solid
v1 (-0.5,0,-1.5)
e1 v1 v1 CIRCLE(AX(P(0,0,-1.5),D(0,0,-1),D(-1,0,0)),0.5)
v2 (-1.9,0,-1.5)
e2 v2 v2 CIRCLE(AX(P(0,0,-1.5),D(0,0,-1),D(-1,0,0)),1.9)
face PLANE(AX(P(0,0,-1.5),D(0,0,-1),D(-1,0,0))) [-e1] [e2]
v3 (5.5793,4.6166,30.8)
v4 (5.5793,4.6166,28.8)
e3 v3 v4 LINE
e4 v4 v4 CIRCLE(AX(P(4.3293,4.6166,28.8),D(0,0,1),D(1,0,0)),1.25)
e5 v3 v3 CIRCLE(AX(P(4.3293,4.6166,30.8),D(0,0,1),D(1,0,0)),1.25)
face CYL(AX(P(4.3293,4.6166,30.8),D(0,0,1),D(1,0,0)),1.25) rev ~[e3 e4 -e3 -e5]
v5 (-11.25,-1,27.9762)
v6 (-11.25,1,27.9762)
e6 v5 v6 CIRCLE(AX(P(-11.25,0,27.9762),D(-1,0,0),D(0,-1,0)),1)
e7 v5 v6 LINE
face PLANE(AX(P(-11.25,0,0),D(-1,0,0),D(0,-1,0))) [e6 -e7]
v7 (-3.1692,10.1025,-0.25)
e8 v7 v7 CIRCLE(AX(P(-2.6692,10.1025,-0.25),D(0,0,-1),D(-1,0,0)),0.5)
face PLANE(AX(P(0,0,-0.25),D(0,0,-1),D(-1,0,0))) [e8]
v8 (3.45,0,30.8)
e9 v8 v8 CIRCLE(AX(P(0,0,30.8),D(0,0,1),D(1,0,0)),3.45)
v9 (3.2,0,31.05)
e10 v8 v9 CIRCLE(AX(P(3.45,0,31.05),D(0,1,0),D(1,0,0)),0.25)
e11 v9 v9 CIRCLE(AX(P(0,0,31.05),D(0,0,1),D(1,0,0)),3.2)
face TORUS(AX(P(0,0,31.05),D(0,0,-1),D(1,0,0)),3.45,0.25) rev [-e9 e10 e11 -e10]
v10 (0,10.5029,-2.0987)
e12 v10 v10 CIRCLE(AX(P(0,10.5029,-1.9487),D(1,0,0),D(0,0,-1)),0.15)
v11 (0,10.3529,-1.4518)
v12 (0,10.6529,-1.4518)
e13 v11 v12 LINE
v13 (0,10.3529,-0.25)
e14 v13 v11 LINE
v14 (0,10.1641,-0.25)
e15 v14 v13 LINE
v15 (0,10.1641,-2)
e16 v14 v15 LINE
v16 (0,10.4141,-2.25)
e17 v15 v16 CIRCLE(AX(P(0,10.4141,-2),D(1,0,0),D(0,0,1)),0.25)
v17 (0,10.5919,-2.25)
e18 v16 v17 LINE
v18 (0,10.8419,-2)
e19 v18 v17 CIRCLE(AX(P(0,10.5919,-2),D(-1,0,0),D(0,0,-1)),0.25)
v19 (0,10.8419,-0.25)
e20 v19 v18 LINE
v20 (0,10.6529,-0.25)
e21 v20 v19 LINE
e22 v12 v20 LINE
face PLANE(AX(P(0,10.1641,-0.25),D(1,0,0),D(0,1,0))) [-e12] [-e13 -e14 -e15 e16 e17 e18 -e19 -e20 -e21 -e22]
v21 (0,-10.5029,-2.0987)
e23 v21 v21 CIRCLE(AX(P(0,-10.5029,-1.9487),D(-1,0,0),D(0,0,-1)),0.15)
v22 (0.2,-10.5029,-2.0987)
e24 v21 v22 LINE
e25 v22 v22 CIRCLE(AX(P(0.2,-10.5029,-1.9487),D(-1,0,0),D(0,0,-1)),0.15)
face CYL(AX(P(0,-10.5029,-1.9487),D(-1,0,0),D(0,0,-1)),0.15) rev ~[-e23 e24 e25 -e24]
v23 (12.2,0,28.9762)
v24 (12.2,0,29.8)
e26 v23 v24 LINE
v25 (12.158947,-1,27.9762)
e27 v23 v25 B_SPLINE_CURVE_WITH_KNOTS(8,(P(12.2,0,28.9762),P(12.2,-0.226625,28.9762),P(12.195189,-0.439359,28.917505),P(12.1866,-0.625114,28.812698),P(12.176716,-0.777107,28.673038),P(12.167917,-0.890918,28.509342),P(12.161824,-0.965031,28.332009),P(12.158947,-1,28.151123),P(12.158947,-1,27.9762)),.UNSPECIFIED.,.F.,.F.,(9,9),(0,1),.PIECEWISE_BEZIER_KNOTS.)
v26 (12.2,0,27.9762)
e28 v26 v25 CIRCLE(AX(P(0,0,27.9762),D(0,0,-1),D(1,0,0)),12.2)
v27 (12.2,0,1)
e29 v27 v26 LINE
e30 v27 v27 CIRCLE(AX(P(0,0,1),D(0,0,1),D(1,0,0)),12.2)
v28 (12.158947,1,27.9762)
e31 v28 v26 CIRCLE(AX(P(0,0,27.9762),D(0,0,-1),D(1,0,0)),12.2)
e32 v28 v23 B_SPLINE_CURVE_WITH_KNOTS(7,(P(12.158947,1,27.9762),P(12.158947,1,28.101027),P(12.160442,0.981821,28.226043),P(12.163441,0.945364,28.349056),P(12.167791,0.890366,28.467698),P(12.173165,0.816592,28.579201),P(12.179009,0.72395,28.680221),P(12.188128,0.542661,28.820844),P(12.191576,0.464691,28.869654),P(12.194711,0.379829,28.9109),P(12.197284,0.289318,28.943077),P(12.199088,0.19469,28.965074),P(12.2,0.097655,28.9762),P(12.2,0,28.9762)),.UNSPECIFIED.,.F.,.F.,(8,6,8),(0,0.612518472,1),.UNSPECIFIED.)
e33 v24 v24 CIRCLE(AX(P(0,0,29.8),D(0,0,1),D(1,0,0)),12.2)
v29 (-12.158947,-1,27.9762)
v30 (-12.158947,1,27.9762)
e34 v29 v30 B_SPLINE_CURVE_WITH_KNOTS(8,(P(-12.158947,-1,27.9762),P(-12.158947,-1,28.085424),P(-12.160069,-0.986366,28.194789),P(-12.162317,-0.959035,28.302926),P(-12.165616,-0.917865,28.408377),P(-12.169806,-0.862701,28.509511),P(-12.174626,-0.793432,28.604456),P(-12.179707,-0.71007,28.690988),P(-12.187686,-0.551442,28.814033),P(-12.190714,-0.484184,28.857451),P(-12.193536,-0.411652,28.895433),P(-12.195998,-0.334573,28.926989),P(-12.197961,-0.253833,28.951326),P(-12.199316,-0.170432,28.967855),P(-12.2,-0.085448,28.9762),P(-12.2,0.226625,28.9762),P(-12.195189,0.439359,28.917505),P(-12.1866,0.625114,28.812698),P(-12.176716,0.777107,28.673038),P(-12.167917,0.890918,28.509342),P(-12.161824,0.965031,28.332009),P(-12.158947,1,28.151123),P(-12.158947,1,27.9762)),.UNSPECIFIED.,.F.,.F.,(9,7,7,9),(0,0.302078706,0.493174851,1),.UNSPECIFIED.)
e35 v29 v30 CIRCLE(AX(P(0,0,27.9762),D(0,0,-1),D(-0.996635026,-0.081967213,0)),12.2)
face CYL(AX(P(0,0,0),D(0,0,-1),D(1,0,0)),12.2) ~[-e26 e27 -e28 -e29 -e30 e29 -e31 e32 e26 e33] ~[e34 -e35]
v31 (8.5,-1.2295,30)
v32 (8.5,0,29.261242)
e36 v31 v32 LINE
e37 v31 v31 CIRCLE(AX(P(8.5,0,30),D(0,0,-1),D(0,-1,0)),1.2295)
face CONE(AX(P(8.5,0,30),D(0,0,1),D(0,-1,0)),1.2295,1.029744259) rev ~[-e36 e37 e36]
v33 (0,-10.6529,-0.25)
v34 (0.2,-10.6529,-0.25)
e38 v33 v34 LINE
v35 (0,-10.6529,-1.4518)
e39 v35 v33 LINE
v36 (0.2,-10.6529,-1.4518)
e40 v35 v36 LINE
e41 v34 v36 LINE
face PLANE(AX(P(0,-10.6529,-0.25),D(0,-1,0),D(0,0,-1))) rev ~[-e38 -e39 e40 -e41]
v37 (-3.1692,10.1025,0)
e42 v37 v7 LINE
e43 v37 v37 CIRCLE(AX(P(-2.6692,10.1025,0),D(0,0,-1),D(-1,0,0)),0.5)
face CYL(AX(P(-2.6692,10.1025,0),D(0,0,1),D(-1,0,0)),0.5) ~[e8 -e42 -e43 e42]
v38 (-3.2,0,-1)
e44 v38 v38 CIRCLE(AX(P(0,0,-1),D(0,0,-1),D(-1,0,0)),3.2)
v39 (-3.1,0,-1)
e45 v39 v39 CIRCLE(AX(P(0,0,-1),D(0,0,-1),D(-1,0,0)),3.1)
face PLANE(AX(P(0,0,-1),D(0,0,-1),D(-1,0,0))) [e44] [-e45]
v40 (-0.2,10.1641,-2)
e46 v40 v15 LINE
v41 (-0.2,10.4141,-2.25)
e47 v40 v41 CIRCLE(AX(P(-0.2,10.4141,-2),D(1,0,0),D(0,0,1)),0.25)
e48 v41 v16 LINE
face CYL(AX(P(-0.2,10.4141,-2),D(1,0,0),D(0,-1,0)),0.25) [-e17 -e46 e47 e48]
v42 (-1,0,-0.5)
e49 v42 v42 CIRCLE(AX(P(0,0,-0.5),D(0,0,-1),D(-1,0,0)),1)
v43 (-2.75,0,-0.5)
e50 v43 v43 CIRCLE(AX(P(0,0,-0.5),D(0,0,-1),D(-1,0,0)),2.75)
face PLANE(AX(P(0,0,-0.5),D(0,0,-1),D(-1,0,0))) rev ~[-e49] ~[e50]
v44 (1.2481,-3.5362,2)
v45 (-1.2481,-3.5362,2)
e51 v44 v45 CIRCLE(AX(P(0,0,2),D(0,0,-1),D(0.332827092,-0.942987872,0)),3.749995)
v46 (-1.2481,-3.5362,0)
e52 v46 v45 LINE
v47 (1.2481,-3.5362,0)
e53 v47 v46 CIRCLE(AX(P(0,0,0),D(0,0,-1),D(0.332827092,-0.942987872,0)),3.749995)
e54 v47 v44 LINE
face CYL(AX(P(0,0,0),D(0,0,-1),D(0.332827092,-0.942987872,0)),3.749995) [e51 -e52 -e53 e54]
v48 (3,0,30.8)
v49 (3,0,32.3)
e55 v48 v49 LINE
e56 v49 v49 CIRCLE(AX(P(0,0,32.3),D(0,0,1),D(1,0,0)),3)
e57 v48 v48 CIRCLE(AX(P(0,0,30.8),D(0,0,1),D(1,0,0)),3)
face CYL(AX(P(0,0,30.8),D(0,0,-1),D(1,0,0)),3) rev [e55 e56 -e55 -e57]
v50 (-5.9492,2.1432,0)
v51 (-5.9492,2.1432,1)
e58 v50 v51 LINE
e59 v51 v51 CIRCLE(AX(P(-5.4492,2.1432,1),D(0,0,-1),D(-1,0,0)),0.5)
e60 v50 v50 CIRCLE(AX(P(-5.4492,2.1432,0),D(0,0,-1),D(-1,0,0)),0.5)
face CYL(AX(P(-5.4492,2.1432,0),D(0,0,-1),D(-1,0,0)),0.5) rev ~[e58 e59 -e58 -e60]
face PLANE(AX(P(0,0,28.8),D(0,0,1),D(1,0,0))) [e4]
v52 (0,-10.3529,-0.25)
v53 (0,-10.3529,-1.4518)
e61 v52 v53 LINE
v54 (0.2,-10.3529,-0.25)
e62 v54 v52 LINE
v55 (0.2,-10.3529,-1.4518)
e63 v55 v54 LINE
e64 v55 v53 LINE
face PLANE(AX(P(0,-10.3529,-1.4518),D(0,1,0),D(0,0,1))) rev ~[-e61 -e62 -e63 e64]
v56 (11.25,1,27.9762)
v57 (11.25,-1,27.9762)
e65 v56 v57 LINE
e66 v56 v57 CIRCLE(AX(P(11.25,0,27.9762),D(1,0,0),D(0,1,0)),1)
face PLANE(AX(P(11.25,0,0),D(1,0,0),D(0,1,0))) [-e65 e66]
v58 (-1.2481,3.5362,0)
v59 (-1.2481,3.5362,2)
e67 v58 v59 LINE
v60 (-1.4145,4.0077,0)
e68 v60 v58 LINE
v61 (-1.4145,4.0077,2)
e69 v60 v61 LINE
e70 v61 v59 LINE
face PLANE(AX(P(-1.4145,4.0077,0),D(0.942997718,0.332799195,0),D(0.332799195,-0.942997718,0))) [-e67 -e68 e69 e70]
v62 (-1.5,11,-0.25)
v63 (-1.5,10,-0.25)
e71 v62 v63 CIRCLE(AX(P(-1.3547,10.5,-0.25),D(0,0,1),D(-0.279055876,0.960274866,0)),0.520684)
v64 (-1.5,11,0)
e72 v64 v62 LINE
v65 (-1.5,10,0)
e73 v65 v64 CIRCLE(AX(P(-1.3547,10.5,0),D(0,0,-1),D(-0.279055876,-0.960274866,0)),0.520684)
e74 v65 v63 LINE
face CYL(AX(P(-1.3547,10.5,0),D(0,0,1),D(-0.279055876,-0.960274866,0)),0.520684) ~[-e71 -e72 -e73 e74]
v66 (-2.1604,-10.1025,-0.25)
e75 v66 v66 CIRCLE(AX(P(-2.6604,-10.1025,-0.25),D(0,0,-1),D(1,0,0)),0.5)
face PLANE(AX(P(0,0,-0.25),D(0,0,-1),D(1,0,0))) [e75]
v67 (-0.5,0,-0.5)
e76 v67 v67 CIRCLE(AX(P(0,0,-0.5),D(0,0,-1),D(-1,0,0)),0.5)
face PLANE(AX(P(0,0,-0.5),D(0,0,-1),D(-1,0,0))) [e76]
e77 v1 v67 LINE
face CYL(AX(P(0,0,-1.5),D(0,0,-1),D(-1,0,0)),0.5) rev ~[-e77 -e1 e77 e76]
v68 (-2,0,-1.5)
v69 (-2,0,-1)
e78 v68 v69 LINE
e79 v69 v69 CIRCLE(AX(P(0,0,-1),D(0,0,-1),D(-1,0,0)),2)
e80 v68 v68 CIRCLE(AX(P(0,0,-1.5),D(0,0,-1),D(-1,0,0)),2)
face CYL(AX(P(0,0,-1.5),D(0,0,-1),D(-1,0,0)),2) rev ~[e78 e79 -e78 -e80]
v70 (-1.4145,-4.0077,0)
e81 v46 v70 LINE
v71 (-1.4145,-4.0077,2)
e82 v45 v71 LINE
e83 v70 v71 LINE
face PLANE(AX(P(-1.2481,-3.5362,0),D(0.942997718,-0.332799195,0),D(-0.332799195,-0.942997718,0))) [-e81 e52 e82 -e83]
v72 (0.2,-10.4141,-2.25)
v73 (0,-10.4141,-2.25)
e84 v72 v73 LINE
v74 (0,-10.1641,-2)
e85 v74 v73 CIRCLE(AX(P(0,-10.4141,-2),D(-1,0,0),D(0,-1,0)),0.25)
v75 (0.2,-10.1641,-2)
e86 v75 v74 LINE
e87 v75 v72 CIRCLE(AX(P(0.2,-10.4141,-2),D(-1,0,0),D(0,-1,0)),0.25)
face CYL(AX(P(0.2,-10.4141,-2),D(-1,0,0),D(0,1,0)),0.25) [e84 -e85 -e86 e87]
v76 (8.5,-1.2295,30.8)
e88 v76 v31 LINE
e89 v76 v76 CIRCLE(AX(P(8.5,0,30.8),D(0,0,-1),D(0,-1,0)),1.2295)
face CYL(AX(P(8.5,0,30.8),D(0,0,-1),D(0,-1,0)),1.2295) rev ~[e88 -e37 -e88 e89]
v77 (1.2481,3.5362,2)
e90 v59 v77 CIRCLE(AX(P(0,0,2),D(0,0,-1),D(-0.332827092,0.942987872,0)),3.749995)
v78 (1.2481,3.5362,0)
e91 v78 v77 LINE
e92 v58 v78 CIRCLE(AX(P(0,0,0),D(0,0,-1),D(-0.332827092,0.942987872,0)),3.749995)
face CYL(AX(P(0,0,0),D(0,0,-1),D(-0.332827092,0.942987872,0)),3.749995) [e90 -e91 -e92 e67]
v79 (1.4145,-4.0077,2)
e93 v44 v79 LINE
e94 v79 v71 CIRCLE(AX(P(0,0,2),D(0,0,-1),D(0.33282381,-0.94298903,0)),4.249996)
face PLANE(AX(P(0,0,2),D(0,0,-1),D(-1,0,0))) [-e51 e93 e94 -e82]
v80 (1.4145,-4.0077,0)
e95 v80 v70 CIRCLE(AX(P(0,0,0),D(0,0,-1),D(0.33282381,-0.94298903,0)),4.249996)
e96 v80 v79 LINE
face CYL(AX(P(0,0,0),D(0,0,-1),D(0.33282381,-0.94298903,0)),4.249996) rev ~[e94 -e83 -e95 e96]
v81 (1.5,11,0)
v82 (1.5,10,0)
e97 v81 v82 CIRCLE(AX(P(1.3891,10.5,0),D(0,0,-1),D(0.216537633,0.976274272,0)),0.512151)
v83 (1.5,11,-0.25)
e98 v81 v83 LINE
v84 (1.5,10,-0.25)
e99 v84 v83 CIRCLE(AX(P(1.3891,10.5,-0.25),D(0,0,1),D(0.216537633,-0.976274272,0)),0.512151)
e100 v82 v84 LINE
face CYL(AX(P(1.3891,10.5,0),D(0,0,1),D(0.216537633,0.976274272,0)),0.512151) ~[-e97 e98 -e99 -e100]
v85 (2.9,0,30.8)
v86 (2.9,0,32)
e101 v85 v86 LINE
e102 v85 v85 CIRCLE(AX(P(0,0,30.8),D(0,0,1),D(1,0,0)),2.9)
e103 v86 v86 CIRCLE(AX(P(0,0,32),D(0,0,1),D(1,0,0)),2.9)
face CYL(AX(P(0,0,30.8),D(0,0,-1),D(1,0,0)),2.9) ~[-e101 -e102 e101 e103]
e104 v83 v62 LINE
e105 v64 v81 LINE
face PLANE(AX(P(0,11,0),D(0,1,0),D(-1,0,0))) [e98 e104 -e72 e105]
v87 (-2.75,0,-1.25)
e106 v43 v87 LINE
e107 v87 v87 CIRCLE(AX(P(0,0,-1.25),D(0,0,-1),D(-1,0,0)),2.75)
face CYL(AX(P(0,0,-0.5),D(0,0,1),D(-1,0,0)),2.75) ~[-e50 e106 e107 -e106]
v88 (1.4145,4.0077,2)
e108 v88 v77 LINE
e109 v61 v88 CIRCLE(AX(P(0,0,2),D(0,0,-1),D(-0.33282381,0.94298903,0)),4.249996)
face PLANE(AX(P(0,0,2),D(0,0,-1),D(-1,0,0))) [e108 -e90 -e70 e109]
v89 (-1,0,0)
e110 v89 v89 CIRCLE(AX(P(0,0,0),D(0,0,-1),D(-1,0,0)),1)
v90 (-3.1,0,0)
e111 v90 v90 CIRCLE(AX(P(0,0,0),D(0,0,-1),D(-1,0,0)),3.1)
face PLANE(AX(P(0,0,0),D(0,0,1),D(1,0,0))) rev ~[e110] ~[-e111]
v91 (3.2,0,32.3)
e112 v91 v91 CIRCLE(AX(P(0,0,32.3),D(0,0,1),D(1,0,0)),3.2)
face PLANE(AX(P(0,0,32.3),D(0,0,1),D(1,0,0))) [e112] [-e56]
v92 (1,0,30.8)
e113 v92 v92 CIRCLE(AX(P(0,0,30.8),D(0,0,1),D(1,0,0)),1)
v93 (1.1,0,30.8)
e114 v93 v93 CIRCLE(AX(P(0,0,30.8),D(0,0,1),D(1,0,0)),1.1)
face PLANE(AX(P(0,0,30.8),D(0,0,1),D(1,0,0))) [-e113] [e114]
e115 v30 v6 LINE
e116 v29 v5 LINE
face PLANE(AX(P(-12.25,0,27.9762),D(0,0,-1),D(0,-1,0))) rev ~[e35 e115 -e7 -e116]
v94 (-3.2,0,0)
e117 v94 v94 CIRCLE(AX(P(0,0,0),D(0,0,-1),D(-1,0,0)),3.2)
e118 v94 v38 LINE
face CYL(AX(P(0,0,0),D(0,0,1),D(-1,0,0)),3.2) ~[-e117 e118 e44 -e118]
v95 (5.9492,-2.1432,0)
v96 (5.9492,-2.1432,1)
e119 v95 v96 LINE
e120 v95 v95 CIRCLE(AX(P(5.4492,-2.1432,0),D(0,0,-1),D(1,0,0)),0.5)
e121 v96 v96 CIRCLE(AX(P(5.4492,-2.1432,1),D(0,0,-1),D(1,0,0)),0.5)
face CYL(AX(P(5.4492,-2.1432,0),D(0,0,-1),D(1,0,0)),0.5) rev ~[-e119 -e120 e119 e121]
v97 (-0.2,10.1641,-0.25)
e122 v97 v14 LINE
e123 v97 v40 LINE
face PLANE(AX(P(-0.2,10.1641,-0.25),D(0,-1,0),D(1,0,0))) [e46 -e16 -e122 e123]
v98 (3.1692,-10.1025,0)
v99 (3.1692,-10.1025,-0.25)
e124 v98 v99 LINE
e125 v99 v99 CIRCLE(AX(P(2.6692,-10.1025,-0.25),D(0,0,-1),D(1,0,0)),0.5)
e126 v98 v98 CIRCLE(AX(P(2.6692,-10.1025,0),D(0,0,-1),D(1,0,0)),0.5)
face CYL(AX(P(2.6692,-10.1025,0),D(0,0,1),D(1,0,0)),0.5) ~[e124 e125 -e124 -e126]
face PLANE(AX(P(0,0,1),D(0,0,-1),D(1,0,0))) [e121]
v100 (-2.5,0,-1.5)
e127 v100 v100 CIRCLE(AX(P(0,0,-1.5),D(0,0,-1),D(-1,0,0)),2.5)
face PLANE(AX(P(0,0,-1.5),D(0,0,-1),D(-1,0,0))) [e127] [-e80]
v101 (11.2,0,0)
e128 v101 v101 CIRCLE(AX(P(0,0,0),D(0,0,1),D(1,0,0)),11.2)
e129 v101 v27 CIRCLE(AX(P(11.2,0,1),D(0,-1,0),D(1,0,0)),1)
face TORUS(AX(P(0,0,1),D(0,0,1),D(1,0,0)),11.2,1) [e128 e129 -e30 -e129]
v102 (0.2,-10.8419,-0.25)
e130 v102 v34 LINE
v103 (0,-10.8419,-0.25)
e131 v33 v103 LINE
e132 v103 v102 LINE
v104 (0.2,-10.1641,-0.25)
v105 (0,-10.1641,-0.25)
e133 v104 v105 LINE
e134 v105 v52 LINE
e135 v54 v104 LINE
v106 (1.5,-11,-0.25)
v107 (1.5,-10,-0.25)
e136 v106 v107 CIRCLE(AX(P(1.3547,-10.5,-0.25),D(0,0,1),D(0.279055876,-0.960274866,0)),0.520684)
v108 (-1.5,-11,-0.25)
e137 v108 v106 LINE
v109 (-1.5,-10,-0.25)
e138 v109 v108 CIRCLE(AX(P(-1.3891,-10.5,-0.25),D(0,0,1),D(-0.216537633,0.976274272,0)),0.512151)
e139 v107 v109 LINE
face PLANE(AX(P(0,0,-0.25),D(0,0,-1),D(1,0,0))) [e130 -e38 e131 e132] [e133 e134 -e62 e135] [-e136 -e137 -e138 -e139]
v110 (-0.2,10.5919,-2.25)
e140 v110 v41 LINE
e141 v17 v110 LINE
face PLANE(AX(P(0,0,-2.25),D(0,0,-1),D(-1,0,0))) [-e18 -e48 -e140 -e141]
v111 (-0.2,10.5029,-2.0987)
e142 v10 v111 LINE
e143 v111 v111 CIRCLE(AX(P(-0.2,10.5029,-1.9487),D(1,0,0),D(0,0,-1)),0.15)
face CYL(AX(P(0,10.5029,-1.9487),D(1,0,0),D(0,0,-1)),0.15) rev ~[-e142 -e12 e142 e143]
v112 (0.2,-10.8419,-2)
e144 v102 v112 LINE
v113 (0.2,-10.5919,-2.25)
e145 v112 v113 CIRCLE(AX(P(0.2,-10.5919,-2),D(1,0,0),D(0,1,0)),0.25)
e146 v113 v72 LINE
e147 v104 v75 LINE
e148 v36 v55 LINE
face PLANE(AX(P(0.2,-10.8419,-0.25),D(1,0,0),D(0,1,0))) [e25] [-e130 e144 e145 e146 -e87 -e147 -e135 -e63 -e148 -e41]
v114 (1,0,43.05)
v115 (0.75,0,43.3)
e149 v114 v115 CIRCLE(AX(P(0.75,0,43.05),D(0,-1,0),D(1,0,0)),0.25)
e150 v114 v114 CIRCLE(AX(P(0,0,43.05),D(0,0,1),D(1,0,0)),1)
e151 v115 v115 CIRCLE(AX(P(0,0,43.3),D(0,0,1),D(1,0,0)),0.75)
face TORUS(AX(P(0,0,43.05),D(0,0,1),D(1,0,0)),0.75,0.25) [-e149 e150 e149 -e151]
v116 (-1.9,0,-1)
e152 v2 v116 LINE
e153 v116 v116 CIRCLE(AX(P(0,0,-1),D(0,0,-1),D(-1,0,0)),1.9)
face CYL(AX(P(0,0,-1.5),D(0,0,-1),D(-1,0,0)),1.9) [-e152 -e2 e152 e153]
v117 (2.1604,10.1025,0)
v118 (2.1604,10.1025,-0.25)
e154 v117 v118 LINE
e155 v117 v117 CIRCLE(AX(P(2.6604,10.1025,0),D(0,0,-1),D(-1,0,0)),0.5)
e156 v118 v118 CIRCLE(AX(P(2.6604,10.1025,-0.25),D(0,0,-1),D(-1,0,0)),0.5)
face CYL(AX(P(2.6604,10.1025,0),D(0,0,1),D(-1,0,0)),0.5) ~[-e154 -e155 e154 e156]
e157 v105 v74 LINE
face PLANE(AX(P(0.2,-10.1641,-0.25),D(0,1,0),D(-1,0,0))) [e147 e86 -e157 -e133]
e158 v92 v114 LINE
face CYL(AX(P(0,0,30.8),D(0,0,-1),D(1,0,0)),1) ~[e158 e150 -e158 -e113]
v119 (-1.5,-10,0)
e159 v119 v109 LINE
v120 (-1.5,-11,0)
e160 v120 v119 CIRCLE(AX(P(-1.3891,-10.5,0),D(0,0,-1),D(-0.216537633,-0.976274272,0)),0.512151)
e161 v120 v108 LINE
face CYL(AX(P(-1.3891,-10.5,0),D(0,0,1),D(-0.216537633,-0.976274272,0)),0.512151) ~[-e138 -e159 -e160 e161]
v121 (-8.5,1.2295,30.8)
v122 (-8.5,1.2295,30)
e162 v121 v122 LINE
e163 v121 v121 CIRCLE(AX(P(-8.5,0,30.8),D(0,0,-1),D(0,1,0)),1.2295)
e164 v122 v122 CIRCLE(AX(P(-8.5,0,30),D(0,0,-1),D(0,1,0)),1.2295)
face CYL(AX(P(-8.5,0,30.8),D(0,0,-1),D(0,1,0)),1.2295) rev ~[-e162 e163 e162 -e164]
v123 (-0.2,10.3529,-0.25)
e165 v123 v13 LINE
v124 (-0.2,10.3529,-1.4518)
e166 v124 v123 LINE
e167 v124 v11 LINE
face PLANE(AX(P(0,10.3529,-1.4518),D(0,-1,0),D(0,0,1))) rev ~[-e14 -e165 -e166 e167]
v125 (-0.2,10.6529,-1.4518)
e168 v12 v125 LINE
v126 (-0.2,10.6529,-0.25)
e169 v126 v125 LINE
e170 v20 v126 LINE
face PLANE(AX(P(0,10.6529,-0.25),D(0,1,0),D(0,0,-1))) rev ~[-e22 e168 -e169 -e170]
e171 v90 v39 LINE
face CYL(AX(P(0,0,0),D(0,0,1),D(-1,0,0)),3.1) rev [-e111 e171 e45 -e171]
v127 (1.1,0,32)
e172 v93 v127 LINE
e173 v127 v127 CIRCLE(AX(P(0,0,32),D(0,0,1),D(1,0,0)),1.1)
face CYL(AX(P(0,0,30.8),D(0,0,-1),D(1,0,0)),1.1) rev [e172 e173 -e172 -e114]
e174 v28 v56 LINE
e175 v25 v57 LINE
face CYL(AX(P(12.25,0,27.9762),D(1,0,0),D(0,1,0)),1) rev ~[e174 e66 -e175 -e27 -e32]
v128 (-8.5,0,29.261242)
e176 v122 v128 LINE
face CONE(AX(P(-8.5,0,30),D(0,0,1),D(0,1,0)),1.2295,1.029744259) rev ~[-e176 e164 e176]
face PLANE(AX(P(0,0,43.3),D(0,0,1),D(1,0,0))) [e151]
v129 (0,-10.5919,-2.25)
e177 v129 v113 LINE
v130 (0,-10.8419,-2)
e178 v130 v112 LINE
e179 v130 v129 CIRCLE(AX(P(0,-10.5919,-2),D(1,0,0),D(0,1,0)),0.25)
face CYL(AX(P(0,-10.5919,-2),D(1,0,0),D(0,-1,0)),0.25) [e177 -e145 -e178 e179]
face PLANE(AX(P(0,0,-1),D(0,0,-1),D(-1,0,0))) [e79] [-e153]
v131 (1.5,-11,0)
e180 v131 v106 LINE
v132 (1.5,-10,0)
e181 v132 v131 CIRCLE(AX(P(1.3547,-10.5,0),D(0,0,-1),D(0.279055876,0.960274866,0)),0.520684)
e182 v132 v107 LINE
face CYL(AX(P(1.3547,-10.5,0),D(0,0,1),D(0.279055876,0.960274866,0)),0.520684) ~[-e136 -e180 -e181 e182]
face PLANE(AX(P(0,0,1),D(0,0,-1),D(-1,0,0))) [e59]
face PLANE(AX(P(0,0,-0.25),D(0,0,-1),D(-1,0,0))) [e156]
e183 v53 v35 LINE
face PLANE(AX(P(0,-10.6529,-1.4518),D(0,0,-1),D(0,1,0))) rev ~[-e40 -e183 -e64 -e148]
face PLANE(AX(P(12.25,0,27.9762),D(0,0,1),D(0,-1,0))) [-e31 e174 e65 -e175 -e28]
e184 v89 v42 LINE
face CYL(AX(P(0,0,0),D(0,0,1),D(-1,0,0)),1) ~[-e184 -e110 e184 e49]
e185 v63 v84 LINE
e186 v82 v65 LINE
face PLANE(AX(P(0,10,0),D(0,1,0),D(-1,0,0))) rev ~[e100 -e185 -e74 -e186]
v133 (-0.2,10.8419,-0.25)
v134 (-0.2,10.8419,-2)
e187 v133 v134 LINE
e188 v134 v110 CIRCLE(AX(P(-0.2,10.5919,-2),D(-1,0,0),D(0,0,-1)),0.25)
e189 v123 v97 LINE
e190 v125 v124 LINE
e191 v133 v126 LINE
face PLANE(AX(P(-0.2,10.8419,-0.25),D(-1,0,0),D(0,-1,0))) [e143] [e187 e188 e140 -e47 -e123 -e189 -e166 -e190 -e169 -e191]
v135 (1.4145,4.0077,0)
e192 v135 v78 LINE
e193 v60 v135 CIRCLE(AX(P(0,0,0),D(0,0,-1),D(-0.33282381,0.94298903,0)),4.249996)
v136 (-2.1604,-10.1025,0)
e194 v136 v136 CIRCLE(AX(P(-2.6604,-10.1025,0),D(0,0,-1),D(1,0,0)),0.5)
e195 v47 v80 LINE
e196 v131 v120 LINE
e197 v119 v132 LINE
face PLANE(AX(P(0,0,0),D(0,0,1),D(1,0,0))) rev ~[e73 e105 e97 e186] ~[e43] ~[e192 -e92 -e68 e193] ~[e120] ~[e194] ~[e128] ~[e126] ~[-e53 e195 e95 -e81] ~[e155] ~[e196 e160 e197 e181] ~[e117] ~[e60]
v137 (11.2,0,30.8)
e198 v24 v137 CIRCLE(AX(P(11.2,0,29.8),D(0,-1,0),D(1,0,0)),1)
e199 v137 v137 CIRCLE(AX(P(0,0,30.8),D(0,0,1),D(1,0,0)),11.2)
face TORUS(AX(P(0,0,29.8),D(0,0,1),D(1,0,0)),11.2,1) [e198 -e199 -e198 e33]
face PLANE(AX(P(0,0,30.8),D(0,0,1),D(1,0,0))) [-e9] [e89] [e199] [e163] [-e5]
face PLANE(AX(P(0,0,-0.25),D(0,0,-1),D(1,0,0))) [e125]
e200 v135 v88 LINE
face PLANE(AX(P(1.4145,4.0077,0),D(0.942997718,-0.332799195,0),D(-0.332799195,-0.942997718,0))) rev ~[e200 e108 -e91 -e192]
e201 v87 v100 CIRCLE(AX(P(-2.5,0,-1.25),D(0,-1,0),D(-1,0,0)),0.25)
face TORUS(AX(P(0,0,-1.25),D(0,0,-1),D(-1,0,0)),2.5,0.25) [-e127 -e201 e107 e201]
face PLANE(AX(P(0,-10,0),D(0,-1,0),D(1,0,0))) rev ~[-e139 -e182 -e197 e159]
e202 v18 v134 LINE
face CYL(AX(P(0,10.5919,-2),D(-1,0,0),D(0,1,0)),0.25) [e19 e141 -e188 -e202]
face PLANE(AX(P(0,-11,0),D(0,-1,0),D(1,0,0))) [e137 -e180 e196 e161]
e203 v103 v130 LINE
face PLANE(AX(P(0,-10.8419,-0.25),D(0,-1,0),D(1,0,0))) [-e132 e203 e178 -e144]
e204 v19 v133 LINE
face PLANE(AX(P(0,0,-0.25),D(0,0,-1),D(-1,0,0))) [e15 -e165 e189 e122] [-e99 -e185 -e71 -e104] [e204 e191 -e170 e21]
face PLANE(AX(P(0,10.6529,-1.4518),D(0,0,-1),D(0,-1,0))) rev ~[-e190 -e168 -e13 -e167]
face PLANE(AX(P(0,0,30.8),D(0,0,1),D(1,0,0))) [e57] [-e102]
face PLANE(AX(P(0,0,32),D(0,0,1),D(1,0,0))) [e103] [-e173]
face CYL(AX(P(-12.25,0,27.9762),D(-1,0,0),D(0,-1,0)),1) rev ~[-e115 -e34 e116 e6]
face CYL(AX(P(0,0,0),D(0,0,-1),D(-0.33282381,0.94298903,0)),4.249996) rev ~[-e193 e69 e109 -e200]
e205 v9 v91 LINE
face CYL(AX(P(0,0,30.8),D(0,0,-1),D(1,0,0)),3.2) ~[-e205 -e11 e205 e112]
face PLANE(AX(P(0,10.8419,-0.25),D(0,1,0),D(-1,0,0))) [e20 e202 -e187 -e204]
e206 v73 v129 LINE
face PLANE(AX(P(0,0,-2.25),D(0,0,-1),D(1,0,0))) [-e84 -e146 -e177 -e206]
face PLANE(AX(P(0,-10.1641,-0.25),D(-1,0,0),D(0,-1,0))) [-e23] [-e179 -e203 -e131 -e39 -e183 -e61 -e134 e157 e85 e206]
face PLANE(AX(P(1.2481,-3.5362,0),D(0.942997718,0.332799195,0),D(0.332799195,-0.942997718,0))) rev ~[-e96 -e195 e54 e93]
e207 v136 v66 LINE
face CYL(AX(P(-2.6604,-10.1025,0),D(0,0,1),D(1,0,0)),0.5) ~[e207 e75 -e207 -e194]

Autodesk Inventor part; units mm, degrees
ref_plane "XZ Plane" through (0, 0, 0) normal (0, 1, 0) x (-1, 0, 0)
ref_plane "XY Plane" through (0, 0, 0) normal (0, 0, 1) x (1, 0, 0)
sketch "Sketch1" plane through (0, 0, 0) normal (0, 0, 1) x (1, 0, 0)
  circle A0 centre (0, 0) radius 12.2
  dimension "d0" = 24.4
extrude "Extrusion1" add sketch "Sketch1" along normal blind 30.8
fillet "Fillet1" radius 1 1 edges at (-12.2, 0, 30.8)
sketch "Sketch4" plane through (0, 0, 30.8) normal (0, 0, 1) x (1, 0, 0)
  circle A0 centre (0, 0) radius 3.2
  circle A1 centre (0, 0) radius 3
  dimension "d10" = 6.4
  dimension "d11" = 6
extrude "Extrusion4" add sketch "Sketch4" along normal blind 1.5
fillet "Fillet2" radius 0.25 1 edges at (-3.2, 0, 30.8)
sketch "Sketch6" plane through (0, 0, 30.8) normal (0, 0, 1) x (1, 0, 0)
  circle A0 centre (0, 0) radius 2.9
  circle A1 centre (0, 0) radius 1.1
  dimension "d18" = 5.8
  dimension "d19" = 2.2
extrude "Extrusion6" add sketch "Sketch6" along normal blind 1.2
sketch "Sketch7" plane through (0, 0, 30.8) normal (0, 0, 1) x (1, 0, 0)
  circle A0 centre (0, 0) radius 1
  dimension "d22" = 2
extrude "Extrusion7" add sketch "Sketch7" along normal blind 12.5
sketch "Sketch8" plane through (0, 0, 30.8) normal (0, 0, 1) x (1, 0, 0)
  line L0 (0, 0) -> (8.5, 0)
  dimension "d26" = 8.5
hole "Hole1" at (8.5, 0, 30.8) direction (0, 0, -1) diameter 2.459 depth 0.8 tip angle 118 thread size "M3x0.5" class "6H" standard "ANSI Metric M Profile"
pattern_circular "Circular Pattern1" count 2 over 360 about axis through (0, 0, 43.3) along (0, 0, 1) of "Hole1"
sketch "Sketch9" plane through (0, 0, 30.8) normal (0, 0, 1) x (1, 0, 0)
  circle A0 centre (4.3293, 4.6166) radius 1.25
  point P0 (0, 0)
  dimension "d37" = 2.5
extrude "Extrusion8" cut sketch "Sketch9" against normal blind 2
ref_plane "Work Plane1" through (12.25, 0, 0) normal (1, 0, 0) x (0, 1, 0)
sketch "Sketch10" plane through (12.25, 0, 0) normal (1, 0, 0) x (0, 1, 0)
  arc A0 (1, 27.9762) -> (-1, 27.9762) centre (0, 27.9762) ccw
  line L0 (0, 27.9762) -> (1, 27.9762)
  line L1 (0, 27.9762) -> (-1, 27.9762)
  point P0 (0, 0)
  dimension "d41" = 2
extrude "Extrusion9" cut sketch "Sketch10" against normal blind 1
pattern_circular "Circular Pattern2" count 2 over 360 about axis through (0, 0, 43.3) along (0, 0, 1) of "Extrusion9"
sketch "Sketch11" plane through (0, 0, 0) normal (0, 0, -1) x (-1, 0, 0)
  circle A0 centre (0, 0) radius 3.2 projected
  circle A1 centre (0, 0) radius 3.2
  circle A2 centre (0, 0) radius 3.1
  dimension "d47" = 6.4
  dimension "d48" = 6.2
extrude "Extrusion10" add sketch "Sketch11" along normal blind 1
sketch "Sketch12" plane through (0, 0, 0) normal (0, 0, -1) x (-1, 0, 0)
  circle A0 centre (0, 0) radius 1
  dimension "d51" = 2
extrude "Extrusion11" add sketch "Sketch12" along normal blind 0.5
sketch "Sketch13" plane through (0, 0, -0.5) normal (0, 0, -1) x (-1, 0, 0)
  circle A0 centre (0, 0) radius 2.75
  dimension "d54" = 5.5
extrude "Extrusion12" add sketch "Sketch13" along normal blind 1
sketch "Sketch14" plane through (0, 0, -1.5) normal (0, 0, -1) x (-1, 0, 0)
  circle A0 centre (0, 0) radius 2
  circle A1 centre (0, 0) radius 1.9
  dimension "d57" = 4
  dimension "d58" = 3.8
extrude "Extrusion13" cut sketch "Sketch14" against normal blind 0.5
sketch "Sketch15" plane through (0, 0, -1.5) normal (0, 0, -1) x (-1, 0, 0)
  circle A0 centre (0, 0) radius 2 projected
  circle A1 centre (0, 0) radius 0.5
  dimension "d61" = 1
extrude "Extrusion14" cut sketch "Sketch15" against normal blind 1 contours A1
sketch "Sketch16" plane through (0, 0, 0) normal (0, 0, -1) x (-1, 0, 0)
  line L0 (0, 4.25) -> (0, 4.25)
  line L1 (0, 4.25) -> (0, 4.25)
  circle A0 centre (0, 0) radius 2 projected
  arc A1 (-1.2481, -3.5362) -> (1.2481, -3.5362) centre (0, 0) ccw
  arc A2 (1.2481, 3.5362) -> (-1.2481, 3.5362) centre (0, 0) ccw
  arc A3 (-1.4145, -4.0077) -> (1.4145, -4.0077) centre (0, 0) ccw
  arc A4 (1.4145, 4.0077) -> (-1.4145, 4.0077) centre (0, 0) ccw
  line L2 (0, 0) -> (-0.6656, -1.886)
  line L3 (-1.2481, -3.5362) -> (-1.4145, -4.0077)
  line L4 (0, 0) -> (0.6656, -1.886)
  line L5 (1.2481, -3.5362) -> (1.4145, -4.0077)
  line L6 (1.4145, 4.0077) -> (1.2481, 3.5362)
  line L7 (0.6656, 1.886) -> (0, 0)
  line L8 (-1.4145, 4.0077) -> (-1.2481, 3.5362)
  line L9 (-0.6656, 1.886) -> (0, 0)
  dimension "d66" = 0
  dimension "d67" = 0
extrude "Extrusion15" cut sketch "Sketch16" against normal blind 2 contours A1 L5 A3 L3 | A2 L8 A4 L6
sketch "Sketch17" plane through (0, 0, 0) normal (0, 0, -1) x (-1, 0, 0)
  circle A0 centre (0, 0) radius 0.5 projected
  circle A1 centre (0, 0) radius 11.2 projected
  line L0 (0, 11) -> (1.5, 11)
  line L1 (0, 10) -> (1.5, 10)
  line L2 (0, 11) -> (-1.5, 11)
  line L3 (0, 10) -> (-1.5, 10)
  arc A2 (1.5, 10) -> (1.5, 11) centre (1.3547, 10.5) ccw
  arc A3 (-1.5, 11) -> (-1.5, 10) centre (-1.3891, 10.5) ccw
  circle A4 centre (2.6692, 10.1025) radius 0.5
  circle A5 centre (-2.6604, 10.1025) radius 0.5
  dimension "d70" = 10
  dimension "d71" = 1
  dimension "d74" = 1.5
  dimension "d77" = 1.5
  dimension "d78" = 1
  dimension "d79" = 1
extrude "Extrusion16" add sketch "Sketch17" along normal blind 0.25 contours L0 A2 L1 L3 A3 L2 | A4 | A5
pattern_circular "Circular Pattern3" count 2 over 360 about axis through (0, 0, 43.3) along (0, 0, 1) of "Extrusion16"
fillet "Fillet3" radius 1 1 edges at (-12.2, 0, 0)
sketch "Sketch18" plane through (0, 0, 0) normal (0, 0, -1) x (-1, 0, 0)
  circle A0 centre (5.4492, 2.1432) radius 0.5
  point P0 (0, 0)
  dimension "d86" = 1
extrude "Extrusion17" cut sketch "Sketch18" against normal blind 1
pattern_circular "Circular Pattern4" count 2 over 360 about axis through (0, 0, 43.3) along (0, 0, 1) of "Extrusion17"
sketch "Sketch19" plane through (0, 0, -0.25) normal (0, 0, -1) x (-1, 0, 0)
  line L0 (0, 10.8419) -> (0.2, 10.8419)
  line L1 (0.2, 10.8419) -> (0.2, 10.1641)
  line L2 (0.2, 10.1641) -> (0, 10.1641)
  line L3 (0, 10.1641) -> (0, 10.8419)
  point P0 (0, 0)
  dimension "d92" = 0.2
extrude "Extrusion18" add sketch "Sketch19" along normal blind 2
sketch "Sketch20" plane through (0, 10.1641, -0.25) normal (1, 0, 0) x (0, 0, -1)
  circle A0 centre (1.6987, 0.3388) radius 0.15
  line L0 (0, -0.1641) -> (0, 0.8359) projected
  line L1 (0, 0.4888) -> (1.2018, 0.4888)
  line L2 (1.2018, 0.4888) -> (1.2018, 0.1888)
  line L3 (1.2018, 0.1888) -> (0, 0.1888)
  line L4 (0, 0.1888) -> (0, 0.4888)
  point P0 (-0.25, -10.1641)
  dimension "d95" = 0.3
extrude "Extrusion19" cut sketch "Sketch20" along normal mid plane 4
fillet "Fillet4" radius 0.25 2 edges at (-0.1, 10.8419, -2.25) (-0.1, 10.1641, -2.25)
pattern_circular "Circular Pattern5" count 2 over 360 about axis through (0, 0, 43.3) along (0, 0, 1) of "Extrusion18", "Extrusion19"
fillet "Fillet5" radius 0.25 2 edges at (0.1, -10.1641, -2.25) (0.1, -10.8419, -2.25)
fillet "Fillet6" radius 0.25 1 edges at (2.75, 0, -1.5)
fillet "Fillet7" radius 0.25 1 edges at (-1, 0, 43.3)
properties part number "motor" material "Stainless Steel"
